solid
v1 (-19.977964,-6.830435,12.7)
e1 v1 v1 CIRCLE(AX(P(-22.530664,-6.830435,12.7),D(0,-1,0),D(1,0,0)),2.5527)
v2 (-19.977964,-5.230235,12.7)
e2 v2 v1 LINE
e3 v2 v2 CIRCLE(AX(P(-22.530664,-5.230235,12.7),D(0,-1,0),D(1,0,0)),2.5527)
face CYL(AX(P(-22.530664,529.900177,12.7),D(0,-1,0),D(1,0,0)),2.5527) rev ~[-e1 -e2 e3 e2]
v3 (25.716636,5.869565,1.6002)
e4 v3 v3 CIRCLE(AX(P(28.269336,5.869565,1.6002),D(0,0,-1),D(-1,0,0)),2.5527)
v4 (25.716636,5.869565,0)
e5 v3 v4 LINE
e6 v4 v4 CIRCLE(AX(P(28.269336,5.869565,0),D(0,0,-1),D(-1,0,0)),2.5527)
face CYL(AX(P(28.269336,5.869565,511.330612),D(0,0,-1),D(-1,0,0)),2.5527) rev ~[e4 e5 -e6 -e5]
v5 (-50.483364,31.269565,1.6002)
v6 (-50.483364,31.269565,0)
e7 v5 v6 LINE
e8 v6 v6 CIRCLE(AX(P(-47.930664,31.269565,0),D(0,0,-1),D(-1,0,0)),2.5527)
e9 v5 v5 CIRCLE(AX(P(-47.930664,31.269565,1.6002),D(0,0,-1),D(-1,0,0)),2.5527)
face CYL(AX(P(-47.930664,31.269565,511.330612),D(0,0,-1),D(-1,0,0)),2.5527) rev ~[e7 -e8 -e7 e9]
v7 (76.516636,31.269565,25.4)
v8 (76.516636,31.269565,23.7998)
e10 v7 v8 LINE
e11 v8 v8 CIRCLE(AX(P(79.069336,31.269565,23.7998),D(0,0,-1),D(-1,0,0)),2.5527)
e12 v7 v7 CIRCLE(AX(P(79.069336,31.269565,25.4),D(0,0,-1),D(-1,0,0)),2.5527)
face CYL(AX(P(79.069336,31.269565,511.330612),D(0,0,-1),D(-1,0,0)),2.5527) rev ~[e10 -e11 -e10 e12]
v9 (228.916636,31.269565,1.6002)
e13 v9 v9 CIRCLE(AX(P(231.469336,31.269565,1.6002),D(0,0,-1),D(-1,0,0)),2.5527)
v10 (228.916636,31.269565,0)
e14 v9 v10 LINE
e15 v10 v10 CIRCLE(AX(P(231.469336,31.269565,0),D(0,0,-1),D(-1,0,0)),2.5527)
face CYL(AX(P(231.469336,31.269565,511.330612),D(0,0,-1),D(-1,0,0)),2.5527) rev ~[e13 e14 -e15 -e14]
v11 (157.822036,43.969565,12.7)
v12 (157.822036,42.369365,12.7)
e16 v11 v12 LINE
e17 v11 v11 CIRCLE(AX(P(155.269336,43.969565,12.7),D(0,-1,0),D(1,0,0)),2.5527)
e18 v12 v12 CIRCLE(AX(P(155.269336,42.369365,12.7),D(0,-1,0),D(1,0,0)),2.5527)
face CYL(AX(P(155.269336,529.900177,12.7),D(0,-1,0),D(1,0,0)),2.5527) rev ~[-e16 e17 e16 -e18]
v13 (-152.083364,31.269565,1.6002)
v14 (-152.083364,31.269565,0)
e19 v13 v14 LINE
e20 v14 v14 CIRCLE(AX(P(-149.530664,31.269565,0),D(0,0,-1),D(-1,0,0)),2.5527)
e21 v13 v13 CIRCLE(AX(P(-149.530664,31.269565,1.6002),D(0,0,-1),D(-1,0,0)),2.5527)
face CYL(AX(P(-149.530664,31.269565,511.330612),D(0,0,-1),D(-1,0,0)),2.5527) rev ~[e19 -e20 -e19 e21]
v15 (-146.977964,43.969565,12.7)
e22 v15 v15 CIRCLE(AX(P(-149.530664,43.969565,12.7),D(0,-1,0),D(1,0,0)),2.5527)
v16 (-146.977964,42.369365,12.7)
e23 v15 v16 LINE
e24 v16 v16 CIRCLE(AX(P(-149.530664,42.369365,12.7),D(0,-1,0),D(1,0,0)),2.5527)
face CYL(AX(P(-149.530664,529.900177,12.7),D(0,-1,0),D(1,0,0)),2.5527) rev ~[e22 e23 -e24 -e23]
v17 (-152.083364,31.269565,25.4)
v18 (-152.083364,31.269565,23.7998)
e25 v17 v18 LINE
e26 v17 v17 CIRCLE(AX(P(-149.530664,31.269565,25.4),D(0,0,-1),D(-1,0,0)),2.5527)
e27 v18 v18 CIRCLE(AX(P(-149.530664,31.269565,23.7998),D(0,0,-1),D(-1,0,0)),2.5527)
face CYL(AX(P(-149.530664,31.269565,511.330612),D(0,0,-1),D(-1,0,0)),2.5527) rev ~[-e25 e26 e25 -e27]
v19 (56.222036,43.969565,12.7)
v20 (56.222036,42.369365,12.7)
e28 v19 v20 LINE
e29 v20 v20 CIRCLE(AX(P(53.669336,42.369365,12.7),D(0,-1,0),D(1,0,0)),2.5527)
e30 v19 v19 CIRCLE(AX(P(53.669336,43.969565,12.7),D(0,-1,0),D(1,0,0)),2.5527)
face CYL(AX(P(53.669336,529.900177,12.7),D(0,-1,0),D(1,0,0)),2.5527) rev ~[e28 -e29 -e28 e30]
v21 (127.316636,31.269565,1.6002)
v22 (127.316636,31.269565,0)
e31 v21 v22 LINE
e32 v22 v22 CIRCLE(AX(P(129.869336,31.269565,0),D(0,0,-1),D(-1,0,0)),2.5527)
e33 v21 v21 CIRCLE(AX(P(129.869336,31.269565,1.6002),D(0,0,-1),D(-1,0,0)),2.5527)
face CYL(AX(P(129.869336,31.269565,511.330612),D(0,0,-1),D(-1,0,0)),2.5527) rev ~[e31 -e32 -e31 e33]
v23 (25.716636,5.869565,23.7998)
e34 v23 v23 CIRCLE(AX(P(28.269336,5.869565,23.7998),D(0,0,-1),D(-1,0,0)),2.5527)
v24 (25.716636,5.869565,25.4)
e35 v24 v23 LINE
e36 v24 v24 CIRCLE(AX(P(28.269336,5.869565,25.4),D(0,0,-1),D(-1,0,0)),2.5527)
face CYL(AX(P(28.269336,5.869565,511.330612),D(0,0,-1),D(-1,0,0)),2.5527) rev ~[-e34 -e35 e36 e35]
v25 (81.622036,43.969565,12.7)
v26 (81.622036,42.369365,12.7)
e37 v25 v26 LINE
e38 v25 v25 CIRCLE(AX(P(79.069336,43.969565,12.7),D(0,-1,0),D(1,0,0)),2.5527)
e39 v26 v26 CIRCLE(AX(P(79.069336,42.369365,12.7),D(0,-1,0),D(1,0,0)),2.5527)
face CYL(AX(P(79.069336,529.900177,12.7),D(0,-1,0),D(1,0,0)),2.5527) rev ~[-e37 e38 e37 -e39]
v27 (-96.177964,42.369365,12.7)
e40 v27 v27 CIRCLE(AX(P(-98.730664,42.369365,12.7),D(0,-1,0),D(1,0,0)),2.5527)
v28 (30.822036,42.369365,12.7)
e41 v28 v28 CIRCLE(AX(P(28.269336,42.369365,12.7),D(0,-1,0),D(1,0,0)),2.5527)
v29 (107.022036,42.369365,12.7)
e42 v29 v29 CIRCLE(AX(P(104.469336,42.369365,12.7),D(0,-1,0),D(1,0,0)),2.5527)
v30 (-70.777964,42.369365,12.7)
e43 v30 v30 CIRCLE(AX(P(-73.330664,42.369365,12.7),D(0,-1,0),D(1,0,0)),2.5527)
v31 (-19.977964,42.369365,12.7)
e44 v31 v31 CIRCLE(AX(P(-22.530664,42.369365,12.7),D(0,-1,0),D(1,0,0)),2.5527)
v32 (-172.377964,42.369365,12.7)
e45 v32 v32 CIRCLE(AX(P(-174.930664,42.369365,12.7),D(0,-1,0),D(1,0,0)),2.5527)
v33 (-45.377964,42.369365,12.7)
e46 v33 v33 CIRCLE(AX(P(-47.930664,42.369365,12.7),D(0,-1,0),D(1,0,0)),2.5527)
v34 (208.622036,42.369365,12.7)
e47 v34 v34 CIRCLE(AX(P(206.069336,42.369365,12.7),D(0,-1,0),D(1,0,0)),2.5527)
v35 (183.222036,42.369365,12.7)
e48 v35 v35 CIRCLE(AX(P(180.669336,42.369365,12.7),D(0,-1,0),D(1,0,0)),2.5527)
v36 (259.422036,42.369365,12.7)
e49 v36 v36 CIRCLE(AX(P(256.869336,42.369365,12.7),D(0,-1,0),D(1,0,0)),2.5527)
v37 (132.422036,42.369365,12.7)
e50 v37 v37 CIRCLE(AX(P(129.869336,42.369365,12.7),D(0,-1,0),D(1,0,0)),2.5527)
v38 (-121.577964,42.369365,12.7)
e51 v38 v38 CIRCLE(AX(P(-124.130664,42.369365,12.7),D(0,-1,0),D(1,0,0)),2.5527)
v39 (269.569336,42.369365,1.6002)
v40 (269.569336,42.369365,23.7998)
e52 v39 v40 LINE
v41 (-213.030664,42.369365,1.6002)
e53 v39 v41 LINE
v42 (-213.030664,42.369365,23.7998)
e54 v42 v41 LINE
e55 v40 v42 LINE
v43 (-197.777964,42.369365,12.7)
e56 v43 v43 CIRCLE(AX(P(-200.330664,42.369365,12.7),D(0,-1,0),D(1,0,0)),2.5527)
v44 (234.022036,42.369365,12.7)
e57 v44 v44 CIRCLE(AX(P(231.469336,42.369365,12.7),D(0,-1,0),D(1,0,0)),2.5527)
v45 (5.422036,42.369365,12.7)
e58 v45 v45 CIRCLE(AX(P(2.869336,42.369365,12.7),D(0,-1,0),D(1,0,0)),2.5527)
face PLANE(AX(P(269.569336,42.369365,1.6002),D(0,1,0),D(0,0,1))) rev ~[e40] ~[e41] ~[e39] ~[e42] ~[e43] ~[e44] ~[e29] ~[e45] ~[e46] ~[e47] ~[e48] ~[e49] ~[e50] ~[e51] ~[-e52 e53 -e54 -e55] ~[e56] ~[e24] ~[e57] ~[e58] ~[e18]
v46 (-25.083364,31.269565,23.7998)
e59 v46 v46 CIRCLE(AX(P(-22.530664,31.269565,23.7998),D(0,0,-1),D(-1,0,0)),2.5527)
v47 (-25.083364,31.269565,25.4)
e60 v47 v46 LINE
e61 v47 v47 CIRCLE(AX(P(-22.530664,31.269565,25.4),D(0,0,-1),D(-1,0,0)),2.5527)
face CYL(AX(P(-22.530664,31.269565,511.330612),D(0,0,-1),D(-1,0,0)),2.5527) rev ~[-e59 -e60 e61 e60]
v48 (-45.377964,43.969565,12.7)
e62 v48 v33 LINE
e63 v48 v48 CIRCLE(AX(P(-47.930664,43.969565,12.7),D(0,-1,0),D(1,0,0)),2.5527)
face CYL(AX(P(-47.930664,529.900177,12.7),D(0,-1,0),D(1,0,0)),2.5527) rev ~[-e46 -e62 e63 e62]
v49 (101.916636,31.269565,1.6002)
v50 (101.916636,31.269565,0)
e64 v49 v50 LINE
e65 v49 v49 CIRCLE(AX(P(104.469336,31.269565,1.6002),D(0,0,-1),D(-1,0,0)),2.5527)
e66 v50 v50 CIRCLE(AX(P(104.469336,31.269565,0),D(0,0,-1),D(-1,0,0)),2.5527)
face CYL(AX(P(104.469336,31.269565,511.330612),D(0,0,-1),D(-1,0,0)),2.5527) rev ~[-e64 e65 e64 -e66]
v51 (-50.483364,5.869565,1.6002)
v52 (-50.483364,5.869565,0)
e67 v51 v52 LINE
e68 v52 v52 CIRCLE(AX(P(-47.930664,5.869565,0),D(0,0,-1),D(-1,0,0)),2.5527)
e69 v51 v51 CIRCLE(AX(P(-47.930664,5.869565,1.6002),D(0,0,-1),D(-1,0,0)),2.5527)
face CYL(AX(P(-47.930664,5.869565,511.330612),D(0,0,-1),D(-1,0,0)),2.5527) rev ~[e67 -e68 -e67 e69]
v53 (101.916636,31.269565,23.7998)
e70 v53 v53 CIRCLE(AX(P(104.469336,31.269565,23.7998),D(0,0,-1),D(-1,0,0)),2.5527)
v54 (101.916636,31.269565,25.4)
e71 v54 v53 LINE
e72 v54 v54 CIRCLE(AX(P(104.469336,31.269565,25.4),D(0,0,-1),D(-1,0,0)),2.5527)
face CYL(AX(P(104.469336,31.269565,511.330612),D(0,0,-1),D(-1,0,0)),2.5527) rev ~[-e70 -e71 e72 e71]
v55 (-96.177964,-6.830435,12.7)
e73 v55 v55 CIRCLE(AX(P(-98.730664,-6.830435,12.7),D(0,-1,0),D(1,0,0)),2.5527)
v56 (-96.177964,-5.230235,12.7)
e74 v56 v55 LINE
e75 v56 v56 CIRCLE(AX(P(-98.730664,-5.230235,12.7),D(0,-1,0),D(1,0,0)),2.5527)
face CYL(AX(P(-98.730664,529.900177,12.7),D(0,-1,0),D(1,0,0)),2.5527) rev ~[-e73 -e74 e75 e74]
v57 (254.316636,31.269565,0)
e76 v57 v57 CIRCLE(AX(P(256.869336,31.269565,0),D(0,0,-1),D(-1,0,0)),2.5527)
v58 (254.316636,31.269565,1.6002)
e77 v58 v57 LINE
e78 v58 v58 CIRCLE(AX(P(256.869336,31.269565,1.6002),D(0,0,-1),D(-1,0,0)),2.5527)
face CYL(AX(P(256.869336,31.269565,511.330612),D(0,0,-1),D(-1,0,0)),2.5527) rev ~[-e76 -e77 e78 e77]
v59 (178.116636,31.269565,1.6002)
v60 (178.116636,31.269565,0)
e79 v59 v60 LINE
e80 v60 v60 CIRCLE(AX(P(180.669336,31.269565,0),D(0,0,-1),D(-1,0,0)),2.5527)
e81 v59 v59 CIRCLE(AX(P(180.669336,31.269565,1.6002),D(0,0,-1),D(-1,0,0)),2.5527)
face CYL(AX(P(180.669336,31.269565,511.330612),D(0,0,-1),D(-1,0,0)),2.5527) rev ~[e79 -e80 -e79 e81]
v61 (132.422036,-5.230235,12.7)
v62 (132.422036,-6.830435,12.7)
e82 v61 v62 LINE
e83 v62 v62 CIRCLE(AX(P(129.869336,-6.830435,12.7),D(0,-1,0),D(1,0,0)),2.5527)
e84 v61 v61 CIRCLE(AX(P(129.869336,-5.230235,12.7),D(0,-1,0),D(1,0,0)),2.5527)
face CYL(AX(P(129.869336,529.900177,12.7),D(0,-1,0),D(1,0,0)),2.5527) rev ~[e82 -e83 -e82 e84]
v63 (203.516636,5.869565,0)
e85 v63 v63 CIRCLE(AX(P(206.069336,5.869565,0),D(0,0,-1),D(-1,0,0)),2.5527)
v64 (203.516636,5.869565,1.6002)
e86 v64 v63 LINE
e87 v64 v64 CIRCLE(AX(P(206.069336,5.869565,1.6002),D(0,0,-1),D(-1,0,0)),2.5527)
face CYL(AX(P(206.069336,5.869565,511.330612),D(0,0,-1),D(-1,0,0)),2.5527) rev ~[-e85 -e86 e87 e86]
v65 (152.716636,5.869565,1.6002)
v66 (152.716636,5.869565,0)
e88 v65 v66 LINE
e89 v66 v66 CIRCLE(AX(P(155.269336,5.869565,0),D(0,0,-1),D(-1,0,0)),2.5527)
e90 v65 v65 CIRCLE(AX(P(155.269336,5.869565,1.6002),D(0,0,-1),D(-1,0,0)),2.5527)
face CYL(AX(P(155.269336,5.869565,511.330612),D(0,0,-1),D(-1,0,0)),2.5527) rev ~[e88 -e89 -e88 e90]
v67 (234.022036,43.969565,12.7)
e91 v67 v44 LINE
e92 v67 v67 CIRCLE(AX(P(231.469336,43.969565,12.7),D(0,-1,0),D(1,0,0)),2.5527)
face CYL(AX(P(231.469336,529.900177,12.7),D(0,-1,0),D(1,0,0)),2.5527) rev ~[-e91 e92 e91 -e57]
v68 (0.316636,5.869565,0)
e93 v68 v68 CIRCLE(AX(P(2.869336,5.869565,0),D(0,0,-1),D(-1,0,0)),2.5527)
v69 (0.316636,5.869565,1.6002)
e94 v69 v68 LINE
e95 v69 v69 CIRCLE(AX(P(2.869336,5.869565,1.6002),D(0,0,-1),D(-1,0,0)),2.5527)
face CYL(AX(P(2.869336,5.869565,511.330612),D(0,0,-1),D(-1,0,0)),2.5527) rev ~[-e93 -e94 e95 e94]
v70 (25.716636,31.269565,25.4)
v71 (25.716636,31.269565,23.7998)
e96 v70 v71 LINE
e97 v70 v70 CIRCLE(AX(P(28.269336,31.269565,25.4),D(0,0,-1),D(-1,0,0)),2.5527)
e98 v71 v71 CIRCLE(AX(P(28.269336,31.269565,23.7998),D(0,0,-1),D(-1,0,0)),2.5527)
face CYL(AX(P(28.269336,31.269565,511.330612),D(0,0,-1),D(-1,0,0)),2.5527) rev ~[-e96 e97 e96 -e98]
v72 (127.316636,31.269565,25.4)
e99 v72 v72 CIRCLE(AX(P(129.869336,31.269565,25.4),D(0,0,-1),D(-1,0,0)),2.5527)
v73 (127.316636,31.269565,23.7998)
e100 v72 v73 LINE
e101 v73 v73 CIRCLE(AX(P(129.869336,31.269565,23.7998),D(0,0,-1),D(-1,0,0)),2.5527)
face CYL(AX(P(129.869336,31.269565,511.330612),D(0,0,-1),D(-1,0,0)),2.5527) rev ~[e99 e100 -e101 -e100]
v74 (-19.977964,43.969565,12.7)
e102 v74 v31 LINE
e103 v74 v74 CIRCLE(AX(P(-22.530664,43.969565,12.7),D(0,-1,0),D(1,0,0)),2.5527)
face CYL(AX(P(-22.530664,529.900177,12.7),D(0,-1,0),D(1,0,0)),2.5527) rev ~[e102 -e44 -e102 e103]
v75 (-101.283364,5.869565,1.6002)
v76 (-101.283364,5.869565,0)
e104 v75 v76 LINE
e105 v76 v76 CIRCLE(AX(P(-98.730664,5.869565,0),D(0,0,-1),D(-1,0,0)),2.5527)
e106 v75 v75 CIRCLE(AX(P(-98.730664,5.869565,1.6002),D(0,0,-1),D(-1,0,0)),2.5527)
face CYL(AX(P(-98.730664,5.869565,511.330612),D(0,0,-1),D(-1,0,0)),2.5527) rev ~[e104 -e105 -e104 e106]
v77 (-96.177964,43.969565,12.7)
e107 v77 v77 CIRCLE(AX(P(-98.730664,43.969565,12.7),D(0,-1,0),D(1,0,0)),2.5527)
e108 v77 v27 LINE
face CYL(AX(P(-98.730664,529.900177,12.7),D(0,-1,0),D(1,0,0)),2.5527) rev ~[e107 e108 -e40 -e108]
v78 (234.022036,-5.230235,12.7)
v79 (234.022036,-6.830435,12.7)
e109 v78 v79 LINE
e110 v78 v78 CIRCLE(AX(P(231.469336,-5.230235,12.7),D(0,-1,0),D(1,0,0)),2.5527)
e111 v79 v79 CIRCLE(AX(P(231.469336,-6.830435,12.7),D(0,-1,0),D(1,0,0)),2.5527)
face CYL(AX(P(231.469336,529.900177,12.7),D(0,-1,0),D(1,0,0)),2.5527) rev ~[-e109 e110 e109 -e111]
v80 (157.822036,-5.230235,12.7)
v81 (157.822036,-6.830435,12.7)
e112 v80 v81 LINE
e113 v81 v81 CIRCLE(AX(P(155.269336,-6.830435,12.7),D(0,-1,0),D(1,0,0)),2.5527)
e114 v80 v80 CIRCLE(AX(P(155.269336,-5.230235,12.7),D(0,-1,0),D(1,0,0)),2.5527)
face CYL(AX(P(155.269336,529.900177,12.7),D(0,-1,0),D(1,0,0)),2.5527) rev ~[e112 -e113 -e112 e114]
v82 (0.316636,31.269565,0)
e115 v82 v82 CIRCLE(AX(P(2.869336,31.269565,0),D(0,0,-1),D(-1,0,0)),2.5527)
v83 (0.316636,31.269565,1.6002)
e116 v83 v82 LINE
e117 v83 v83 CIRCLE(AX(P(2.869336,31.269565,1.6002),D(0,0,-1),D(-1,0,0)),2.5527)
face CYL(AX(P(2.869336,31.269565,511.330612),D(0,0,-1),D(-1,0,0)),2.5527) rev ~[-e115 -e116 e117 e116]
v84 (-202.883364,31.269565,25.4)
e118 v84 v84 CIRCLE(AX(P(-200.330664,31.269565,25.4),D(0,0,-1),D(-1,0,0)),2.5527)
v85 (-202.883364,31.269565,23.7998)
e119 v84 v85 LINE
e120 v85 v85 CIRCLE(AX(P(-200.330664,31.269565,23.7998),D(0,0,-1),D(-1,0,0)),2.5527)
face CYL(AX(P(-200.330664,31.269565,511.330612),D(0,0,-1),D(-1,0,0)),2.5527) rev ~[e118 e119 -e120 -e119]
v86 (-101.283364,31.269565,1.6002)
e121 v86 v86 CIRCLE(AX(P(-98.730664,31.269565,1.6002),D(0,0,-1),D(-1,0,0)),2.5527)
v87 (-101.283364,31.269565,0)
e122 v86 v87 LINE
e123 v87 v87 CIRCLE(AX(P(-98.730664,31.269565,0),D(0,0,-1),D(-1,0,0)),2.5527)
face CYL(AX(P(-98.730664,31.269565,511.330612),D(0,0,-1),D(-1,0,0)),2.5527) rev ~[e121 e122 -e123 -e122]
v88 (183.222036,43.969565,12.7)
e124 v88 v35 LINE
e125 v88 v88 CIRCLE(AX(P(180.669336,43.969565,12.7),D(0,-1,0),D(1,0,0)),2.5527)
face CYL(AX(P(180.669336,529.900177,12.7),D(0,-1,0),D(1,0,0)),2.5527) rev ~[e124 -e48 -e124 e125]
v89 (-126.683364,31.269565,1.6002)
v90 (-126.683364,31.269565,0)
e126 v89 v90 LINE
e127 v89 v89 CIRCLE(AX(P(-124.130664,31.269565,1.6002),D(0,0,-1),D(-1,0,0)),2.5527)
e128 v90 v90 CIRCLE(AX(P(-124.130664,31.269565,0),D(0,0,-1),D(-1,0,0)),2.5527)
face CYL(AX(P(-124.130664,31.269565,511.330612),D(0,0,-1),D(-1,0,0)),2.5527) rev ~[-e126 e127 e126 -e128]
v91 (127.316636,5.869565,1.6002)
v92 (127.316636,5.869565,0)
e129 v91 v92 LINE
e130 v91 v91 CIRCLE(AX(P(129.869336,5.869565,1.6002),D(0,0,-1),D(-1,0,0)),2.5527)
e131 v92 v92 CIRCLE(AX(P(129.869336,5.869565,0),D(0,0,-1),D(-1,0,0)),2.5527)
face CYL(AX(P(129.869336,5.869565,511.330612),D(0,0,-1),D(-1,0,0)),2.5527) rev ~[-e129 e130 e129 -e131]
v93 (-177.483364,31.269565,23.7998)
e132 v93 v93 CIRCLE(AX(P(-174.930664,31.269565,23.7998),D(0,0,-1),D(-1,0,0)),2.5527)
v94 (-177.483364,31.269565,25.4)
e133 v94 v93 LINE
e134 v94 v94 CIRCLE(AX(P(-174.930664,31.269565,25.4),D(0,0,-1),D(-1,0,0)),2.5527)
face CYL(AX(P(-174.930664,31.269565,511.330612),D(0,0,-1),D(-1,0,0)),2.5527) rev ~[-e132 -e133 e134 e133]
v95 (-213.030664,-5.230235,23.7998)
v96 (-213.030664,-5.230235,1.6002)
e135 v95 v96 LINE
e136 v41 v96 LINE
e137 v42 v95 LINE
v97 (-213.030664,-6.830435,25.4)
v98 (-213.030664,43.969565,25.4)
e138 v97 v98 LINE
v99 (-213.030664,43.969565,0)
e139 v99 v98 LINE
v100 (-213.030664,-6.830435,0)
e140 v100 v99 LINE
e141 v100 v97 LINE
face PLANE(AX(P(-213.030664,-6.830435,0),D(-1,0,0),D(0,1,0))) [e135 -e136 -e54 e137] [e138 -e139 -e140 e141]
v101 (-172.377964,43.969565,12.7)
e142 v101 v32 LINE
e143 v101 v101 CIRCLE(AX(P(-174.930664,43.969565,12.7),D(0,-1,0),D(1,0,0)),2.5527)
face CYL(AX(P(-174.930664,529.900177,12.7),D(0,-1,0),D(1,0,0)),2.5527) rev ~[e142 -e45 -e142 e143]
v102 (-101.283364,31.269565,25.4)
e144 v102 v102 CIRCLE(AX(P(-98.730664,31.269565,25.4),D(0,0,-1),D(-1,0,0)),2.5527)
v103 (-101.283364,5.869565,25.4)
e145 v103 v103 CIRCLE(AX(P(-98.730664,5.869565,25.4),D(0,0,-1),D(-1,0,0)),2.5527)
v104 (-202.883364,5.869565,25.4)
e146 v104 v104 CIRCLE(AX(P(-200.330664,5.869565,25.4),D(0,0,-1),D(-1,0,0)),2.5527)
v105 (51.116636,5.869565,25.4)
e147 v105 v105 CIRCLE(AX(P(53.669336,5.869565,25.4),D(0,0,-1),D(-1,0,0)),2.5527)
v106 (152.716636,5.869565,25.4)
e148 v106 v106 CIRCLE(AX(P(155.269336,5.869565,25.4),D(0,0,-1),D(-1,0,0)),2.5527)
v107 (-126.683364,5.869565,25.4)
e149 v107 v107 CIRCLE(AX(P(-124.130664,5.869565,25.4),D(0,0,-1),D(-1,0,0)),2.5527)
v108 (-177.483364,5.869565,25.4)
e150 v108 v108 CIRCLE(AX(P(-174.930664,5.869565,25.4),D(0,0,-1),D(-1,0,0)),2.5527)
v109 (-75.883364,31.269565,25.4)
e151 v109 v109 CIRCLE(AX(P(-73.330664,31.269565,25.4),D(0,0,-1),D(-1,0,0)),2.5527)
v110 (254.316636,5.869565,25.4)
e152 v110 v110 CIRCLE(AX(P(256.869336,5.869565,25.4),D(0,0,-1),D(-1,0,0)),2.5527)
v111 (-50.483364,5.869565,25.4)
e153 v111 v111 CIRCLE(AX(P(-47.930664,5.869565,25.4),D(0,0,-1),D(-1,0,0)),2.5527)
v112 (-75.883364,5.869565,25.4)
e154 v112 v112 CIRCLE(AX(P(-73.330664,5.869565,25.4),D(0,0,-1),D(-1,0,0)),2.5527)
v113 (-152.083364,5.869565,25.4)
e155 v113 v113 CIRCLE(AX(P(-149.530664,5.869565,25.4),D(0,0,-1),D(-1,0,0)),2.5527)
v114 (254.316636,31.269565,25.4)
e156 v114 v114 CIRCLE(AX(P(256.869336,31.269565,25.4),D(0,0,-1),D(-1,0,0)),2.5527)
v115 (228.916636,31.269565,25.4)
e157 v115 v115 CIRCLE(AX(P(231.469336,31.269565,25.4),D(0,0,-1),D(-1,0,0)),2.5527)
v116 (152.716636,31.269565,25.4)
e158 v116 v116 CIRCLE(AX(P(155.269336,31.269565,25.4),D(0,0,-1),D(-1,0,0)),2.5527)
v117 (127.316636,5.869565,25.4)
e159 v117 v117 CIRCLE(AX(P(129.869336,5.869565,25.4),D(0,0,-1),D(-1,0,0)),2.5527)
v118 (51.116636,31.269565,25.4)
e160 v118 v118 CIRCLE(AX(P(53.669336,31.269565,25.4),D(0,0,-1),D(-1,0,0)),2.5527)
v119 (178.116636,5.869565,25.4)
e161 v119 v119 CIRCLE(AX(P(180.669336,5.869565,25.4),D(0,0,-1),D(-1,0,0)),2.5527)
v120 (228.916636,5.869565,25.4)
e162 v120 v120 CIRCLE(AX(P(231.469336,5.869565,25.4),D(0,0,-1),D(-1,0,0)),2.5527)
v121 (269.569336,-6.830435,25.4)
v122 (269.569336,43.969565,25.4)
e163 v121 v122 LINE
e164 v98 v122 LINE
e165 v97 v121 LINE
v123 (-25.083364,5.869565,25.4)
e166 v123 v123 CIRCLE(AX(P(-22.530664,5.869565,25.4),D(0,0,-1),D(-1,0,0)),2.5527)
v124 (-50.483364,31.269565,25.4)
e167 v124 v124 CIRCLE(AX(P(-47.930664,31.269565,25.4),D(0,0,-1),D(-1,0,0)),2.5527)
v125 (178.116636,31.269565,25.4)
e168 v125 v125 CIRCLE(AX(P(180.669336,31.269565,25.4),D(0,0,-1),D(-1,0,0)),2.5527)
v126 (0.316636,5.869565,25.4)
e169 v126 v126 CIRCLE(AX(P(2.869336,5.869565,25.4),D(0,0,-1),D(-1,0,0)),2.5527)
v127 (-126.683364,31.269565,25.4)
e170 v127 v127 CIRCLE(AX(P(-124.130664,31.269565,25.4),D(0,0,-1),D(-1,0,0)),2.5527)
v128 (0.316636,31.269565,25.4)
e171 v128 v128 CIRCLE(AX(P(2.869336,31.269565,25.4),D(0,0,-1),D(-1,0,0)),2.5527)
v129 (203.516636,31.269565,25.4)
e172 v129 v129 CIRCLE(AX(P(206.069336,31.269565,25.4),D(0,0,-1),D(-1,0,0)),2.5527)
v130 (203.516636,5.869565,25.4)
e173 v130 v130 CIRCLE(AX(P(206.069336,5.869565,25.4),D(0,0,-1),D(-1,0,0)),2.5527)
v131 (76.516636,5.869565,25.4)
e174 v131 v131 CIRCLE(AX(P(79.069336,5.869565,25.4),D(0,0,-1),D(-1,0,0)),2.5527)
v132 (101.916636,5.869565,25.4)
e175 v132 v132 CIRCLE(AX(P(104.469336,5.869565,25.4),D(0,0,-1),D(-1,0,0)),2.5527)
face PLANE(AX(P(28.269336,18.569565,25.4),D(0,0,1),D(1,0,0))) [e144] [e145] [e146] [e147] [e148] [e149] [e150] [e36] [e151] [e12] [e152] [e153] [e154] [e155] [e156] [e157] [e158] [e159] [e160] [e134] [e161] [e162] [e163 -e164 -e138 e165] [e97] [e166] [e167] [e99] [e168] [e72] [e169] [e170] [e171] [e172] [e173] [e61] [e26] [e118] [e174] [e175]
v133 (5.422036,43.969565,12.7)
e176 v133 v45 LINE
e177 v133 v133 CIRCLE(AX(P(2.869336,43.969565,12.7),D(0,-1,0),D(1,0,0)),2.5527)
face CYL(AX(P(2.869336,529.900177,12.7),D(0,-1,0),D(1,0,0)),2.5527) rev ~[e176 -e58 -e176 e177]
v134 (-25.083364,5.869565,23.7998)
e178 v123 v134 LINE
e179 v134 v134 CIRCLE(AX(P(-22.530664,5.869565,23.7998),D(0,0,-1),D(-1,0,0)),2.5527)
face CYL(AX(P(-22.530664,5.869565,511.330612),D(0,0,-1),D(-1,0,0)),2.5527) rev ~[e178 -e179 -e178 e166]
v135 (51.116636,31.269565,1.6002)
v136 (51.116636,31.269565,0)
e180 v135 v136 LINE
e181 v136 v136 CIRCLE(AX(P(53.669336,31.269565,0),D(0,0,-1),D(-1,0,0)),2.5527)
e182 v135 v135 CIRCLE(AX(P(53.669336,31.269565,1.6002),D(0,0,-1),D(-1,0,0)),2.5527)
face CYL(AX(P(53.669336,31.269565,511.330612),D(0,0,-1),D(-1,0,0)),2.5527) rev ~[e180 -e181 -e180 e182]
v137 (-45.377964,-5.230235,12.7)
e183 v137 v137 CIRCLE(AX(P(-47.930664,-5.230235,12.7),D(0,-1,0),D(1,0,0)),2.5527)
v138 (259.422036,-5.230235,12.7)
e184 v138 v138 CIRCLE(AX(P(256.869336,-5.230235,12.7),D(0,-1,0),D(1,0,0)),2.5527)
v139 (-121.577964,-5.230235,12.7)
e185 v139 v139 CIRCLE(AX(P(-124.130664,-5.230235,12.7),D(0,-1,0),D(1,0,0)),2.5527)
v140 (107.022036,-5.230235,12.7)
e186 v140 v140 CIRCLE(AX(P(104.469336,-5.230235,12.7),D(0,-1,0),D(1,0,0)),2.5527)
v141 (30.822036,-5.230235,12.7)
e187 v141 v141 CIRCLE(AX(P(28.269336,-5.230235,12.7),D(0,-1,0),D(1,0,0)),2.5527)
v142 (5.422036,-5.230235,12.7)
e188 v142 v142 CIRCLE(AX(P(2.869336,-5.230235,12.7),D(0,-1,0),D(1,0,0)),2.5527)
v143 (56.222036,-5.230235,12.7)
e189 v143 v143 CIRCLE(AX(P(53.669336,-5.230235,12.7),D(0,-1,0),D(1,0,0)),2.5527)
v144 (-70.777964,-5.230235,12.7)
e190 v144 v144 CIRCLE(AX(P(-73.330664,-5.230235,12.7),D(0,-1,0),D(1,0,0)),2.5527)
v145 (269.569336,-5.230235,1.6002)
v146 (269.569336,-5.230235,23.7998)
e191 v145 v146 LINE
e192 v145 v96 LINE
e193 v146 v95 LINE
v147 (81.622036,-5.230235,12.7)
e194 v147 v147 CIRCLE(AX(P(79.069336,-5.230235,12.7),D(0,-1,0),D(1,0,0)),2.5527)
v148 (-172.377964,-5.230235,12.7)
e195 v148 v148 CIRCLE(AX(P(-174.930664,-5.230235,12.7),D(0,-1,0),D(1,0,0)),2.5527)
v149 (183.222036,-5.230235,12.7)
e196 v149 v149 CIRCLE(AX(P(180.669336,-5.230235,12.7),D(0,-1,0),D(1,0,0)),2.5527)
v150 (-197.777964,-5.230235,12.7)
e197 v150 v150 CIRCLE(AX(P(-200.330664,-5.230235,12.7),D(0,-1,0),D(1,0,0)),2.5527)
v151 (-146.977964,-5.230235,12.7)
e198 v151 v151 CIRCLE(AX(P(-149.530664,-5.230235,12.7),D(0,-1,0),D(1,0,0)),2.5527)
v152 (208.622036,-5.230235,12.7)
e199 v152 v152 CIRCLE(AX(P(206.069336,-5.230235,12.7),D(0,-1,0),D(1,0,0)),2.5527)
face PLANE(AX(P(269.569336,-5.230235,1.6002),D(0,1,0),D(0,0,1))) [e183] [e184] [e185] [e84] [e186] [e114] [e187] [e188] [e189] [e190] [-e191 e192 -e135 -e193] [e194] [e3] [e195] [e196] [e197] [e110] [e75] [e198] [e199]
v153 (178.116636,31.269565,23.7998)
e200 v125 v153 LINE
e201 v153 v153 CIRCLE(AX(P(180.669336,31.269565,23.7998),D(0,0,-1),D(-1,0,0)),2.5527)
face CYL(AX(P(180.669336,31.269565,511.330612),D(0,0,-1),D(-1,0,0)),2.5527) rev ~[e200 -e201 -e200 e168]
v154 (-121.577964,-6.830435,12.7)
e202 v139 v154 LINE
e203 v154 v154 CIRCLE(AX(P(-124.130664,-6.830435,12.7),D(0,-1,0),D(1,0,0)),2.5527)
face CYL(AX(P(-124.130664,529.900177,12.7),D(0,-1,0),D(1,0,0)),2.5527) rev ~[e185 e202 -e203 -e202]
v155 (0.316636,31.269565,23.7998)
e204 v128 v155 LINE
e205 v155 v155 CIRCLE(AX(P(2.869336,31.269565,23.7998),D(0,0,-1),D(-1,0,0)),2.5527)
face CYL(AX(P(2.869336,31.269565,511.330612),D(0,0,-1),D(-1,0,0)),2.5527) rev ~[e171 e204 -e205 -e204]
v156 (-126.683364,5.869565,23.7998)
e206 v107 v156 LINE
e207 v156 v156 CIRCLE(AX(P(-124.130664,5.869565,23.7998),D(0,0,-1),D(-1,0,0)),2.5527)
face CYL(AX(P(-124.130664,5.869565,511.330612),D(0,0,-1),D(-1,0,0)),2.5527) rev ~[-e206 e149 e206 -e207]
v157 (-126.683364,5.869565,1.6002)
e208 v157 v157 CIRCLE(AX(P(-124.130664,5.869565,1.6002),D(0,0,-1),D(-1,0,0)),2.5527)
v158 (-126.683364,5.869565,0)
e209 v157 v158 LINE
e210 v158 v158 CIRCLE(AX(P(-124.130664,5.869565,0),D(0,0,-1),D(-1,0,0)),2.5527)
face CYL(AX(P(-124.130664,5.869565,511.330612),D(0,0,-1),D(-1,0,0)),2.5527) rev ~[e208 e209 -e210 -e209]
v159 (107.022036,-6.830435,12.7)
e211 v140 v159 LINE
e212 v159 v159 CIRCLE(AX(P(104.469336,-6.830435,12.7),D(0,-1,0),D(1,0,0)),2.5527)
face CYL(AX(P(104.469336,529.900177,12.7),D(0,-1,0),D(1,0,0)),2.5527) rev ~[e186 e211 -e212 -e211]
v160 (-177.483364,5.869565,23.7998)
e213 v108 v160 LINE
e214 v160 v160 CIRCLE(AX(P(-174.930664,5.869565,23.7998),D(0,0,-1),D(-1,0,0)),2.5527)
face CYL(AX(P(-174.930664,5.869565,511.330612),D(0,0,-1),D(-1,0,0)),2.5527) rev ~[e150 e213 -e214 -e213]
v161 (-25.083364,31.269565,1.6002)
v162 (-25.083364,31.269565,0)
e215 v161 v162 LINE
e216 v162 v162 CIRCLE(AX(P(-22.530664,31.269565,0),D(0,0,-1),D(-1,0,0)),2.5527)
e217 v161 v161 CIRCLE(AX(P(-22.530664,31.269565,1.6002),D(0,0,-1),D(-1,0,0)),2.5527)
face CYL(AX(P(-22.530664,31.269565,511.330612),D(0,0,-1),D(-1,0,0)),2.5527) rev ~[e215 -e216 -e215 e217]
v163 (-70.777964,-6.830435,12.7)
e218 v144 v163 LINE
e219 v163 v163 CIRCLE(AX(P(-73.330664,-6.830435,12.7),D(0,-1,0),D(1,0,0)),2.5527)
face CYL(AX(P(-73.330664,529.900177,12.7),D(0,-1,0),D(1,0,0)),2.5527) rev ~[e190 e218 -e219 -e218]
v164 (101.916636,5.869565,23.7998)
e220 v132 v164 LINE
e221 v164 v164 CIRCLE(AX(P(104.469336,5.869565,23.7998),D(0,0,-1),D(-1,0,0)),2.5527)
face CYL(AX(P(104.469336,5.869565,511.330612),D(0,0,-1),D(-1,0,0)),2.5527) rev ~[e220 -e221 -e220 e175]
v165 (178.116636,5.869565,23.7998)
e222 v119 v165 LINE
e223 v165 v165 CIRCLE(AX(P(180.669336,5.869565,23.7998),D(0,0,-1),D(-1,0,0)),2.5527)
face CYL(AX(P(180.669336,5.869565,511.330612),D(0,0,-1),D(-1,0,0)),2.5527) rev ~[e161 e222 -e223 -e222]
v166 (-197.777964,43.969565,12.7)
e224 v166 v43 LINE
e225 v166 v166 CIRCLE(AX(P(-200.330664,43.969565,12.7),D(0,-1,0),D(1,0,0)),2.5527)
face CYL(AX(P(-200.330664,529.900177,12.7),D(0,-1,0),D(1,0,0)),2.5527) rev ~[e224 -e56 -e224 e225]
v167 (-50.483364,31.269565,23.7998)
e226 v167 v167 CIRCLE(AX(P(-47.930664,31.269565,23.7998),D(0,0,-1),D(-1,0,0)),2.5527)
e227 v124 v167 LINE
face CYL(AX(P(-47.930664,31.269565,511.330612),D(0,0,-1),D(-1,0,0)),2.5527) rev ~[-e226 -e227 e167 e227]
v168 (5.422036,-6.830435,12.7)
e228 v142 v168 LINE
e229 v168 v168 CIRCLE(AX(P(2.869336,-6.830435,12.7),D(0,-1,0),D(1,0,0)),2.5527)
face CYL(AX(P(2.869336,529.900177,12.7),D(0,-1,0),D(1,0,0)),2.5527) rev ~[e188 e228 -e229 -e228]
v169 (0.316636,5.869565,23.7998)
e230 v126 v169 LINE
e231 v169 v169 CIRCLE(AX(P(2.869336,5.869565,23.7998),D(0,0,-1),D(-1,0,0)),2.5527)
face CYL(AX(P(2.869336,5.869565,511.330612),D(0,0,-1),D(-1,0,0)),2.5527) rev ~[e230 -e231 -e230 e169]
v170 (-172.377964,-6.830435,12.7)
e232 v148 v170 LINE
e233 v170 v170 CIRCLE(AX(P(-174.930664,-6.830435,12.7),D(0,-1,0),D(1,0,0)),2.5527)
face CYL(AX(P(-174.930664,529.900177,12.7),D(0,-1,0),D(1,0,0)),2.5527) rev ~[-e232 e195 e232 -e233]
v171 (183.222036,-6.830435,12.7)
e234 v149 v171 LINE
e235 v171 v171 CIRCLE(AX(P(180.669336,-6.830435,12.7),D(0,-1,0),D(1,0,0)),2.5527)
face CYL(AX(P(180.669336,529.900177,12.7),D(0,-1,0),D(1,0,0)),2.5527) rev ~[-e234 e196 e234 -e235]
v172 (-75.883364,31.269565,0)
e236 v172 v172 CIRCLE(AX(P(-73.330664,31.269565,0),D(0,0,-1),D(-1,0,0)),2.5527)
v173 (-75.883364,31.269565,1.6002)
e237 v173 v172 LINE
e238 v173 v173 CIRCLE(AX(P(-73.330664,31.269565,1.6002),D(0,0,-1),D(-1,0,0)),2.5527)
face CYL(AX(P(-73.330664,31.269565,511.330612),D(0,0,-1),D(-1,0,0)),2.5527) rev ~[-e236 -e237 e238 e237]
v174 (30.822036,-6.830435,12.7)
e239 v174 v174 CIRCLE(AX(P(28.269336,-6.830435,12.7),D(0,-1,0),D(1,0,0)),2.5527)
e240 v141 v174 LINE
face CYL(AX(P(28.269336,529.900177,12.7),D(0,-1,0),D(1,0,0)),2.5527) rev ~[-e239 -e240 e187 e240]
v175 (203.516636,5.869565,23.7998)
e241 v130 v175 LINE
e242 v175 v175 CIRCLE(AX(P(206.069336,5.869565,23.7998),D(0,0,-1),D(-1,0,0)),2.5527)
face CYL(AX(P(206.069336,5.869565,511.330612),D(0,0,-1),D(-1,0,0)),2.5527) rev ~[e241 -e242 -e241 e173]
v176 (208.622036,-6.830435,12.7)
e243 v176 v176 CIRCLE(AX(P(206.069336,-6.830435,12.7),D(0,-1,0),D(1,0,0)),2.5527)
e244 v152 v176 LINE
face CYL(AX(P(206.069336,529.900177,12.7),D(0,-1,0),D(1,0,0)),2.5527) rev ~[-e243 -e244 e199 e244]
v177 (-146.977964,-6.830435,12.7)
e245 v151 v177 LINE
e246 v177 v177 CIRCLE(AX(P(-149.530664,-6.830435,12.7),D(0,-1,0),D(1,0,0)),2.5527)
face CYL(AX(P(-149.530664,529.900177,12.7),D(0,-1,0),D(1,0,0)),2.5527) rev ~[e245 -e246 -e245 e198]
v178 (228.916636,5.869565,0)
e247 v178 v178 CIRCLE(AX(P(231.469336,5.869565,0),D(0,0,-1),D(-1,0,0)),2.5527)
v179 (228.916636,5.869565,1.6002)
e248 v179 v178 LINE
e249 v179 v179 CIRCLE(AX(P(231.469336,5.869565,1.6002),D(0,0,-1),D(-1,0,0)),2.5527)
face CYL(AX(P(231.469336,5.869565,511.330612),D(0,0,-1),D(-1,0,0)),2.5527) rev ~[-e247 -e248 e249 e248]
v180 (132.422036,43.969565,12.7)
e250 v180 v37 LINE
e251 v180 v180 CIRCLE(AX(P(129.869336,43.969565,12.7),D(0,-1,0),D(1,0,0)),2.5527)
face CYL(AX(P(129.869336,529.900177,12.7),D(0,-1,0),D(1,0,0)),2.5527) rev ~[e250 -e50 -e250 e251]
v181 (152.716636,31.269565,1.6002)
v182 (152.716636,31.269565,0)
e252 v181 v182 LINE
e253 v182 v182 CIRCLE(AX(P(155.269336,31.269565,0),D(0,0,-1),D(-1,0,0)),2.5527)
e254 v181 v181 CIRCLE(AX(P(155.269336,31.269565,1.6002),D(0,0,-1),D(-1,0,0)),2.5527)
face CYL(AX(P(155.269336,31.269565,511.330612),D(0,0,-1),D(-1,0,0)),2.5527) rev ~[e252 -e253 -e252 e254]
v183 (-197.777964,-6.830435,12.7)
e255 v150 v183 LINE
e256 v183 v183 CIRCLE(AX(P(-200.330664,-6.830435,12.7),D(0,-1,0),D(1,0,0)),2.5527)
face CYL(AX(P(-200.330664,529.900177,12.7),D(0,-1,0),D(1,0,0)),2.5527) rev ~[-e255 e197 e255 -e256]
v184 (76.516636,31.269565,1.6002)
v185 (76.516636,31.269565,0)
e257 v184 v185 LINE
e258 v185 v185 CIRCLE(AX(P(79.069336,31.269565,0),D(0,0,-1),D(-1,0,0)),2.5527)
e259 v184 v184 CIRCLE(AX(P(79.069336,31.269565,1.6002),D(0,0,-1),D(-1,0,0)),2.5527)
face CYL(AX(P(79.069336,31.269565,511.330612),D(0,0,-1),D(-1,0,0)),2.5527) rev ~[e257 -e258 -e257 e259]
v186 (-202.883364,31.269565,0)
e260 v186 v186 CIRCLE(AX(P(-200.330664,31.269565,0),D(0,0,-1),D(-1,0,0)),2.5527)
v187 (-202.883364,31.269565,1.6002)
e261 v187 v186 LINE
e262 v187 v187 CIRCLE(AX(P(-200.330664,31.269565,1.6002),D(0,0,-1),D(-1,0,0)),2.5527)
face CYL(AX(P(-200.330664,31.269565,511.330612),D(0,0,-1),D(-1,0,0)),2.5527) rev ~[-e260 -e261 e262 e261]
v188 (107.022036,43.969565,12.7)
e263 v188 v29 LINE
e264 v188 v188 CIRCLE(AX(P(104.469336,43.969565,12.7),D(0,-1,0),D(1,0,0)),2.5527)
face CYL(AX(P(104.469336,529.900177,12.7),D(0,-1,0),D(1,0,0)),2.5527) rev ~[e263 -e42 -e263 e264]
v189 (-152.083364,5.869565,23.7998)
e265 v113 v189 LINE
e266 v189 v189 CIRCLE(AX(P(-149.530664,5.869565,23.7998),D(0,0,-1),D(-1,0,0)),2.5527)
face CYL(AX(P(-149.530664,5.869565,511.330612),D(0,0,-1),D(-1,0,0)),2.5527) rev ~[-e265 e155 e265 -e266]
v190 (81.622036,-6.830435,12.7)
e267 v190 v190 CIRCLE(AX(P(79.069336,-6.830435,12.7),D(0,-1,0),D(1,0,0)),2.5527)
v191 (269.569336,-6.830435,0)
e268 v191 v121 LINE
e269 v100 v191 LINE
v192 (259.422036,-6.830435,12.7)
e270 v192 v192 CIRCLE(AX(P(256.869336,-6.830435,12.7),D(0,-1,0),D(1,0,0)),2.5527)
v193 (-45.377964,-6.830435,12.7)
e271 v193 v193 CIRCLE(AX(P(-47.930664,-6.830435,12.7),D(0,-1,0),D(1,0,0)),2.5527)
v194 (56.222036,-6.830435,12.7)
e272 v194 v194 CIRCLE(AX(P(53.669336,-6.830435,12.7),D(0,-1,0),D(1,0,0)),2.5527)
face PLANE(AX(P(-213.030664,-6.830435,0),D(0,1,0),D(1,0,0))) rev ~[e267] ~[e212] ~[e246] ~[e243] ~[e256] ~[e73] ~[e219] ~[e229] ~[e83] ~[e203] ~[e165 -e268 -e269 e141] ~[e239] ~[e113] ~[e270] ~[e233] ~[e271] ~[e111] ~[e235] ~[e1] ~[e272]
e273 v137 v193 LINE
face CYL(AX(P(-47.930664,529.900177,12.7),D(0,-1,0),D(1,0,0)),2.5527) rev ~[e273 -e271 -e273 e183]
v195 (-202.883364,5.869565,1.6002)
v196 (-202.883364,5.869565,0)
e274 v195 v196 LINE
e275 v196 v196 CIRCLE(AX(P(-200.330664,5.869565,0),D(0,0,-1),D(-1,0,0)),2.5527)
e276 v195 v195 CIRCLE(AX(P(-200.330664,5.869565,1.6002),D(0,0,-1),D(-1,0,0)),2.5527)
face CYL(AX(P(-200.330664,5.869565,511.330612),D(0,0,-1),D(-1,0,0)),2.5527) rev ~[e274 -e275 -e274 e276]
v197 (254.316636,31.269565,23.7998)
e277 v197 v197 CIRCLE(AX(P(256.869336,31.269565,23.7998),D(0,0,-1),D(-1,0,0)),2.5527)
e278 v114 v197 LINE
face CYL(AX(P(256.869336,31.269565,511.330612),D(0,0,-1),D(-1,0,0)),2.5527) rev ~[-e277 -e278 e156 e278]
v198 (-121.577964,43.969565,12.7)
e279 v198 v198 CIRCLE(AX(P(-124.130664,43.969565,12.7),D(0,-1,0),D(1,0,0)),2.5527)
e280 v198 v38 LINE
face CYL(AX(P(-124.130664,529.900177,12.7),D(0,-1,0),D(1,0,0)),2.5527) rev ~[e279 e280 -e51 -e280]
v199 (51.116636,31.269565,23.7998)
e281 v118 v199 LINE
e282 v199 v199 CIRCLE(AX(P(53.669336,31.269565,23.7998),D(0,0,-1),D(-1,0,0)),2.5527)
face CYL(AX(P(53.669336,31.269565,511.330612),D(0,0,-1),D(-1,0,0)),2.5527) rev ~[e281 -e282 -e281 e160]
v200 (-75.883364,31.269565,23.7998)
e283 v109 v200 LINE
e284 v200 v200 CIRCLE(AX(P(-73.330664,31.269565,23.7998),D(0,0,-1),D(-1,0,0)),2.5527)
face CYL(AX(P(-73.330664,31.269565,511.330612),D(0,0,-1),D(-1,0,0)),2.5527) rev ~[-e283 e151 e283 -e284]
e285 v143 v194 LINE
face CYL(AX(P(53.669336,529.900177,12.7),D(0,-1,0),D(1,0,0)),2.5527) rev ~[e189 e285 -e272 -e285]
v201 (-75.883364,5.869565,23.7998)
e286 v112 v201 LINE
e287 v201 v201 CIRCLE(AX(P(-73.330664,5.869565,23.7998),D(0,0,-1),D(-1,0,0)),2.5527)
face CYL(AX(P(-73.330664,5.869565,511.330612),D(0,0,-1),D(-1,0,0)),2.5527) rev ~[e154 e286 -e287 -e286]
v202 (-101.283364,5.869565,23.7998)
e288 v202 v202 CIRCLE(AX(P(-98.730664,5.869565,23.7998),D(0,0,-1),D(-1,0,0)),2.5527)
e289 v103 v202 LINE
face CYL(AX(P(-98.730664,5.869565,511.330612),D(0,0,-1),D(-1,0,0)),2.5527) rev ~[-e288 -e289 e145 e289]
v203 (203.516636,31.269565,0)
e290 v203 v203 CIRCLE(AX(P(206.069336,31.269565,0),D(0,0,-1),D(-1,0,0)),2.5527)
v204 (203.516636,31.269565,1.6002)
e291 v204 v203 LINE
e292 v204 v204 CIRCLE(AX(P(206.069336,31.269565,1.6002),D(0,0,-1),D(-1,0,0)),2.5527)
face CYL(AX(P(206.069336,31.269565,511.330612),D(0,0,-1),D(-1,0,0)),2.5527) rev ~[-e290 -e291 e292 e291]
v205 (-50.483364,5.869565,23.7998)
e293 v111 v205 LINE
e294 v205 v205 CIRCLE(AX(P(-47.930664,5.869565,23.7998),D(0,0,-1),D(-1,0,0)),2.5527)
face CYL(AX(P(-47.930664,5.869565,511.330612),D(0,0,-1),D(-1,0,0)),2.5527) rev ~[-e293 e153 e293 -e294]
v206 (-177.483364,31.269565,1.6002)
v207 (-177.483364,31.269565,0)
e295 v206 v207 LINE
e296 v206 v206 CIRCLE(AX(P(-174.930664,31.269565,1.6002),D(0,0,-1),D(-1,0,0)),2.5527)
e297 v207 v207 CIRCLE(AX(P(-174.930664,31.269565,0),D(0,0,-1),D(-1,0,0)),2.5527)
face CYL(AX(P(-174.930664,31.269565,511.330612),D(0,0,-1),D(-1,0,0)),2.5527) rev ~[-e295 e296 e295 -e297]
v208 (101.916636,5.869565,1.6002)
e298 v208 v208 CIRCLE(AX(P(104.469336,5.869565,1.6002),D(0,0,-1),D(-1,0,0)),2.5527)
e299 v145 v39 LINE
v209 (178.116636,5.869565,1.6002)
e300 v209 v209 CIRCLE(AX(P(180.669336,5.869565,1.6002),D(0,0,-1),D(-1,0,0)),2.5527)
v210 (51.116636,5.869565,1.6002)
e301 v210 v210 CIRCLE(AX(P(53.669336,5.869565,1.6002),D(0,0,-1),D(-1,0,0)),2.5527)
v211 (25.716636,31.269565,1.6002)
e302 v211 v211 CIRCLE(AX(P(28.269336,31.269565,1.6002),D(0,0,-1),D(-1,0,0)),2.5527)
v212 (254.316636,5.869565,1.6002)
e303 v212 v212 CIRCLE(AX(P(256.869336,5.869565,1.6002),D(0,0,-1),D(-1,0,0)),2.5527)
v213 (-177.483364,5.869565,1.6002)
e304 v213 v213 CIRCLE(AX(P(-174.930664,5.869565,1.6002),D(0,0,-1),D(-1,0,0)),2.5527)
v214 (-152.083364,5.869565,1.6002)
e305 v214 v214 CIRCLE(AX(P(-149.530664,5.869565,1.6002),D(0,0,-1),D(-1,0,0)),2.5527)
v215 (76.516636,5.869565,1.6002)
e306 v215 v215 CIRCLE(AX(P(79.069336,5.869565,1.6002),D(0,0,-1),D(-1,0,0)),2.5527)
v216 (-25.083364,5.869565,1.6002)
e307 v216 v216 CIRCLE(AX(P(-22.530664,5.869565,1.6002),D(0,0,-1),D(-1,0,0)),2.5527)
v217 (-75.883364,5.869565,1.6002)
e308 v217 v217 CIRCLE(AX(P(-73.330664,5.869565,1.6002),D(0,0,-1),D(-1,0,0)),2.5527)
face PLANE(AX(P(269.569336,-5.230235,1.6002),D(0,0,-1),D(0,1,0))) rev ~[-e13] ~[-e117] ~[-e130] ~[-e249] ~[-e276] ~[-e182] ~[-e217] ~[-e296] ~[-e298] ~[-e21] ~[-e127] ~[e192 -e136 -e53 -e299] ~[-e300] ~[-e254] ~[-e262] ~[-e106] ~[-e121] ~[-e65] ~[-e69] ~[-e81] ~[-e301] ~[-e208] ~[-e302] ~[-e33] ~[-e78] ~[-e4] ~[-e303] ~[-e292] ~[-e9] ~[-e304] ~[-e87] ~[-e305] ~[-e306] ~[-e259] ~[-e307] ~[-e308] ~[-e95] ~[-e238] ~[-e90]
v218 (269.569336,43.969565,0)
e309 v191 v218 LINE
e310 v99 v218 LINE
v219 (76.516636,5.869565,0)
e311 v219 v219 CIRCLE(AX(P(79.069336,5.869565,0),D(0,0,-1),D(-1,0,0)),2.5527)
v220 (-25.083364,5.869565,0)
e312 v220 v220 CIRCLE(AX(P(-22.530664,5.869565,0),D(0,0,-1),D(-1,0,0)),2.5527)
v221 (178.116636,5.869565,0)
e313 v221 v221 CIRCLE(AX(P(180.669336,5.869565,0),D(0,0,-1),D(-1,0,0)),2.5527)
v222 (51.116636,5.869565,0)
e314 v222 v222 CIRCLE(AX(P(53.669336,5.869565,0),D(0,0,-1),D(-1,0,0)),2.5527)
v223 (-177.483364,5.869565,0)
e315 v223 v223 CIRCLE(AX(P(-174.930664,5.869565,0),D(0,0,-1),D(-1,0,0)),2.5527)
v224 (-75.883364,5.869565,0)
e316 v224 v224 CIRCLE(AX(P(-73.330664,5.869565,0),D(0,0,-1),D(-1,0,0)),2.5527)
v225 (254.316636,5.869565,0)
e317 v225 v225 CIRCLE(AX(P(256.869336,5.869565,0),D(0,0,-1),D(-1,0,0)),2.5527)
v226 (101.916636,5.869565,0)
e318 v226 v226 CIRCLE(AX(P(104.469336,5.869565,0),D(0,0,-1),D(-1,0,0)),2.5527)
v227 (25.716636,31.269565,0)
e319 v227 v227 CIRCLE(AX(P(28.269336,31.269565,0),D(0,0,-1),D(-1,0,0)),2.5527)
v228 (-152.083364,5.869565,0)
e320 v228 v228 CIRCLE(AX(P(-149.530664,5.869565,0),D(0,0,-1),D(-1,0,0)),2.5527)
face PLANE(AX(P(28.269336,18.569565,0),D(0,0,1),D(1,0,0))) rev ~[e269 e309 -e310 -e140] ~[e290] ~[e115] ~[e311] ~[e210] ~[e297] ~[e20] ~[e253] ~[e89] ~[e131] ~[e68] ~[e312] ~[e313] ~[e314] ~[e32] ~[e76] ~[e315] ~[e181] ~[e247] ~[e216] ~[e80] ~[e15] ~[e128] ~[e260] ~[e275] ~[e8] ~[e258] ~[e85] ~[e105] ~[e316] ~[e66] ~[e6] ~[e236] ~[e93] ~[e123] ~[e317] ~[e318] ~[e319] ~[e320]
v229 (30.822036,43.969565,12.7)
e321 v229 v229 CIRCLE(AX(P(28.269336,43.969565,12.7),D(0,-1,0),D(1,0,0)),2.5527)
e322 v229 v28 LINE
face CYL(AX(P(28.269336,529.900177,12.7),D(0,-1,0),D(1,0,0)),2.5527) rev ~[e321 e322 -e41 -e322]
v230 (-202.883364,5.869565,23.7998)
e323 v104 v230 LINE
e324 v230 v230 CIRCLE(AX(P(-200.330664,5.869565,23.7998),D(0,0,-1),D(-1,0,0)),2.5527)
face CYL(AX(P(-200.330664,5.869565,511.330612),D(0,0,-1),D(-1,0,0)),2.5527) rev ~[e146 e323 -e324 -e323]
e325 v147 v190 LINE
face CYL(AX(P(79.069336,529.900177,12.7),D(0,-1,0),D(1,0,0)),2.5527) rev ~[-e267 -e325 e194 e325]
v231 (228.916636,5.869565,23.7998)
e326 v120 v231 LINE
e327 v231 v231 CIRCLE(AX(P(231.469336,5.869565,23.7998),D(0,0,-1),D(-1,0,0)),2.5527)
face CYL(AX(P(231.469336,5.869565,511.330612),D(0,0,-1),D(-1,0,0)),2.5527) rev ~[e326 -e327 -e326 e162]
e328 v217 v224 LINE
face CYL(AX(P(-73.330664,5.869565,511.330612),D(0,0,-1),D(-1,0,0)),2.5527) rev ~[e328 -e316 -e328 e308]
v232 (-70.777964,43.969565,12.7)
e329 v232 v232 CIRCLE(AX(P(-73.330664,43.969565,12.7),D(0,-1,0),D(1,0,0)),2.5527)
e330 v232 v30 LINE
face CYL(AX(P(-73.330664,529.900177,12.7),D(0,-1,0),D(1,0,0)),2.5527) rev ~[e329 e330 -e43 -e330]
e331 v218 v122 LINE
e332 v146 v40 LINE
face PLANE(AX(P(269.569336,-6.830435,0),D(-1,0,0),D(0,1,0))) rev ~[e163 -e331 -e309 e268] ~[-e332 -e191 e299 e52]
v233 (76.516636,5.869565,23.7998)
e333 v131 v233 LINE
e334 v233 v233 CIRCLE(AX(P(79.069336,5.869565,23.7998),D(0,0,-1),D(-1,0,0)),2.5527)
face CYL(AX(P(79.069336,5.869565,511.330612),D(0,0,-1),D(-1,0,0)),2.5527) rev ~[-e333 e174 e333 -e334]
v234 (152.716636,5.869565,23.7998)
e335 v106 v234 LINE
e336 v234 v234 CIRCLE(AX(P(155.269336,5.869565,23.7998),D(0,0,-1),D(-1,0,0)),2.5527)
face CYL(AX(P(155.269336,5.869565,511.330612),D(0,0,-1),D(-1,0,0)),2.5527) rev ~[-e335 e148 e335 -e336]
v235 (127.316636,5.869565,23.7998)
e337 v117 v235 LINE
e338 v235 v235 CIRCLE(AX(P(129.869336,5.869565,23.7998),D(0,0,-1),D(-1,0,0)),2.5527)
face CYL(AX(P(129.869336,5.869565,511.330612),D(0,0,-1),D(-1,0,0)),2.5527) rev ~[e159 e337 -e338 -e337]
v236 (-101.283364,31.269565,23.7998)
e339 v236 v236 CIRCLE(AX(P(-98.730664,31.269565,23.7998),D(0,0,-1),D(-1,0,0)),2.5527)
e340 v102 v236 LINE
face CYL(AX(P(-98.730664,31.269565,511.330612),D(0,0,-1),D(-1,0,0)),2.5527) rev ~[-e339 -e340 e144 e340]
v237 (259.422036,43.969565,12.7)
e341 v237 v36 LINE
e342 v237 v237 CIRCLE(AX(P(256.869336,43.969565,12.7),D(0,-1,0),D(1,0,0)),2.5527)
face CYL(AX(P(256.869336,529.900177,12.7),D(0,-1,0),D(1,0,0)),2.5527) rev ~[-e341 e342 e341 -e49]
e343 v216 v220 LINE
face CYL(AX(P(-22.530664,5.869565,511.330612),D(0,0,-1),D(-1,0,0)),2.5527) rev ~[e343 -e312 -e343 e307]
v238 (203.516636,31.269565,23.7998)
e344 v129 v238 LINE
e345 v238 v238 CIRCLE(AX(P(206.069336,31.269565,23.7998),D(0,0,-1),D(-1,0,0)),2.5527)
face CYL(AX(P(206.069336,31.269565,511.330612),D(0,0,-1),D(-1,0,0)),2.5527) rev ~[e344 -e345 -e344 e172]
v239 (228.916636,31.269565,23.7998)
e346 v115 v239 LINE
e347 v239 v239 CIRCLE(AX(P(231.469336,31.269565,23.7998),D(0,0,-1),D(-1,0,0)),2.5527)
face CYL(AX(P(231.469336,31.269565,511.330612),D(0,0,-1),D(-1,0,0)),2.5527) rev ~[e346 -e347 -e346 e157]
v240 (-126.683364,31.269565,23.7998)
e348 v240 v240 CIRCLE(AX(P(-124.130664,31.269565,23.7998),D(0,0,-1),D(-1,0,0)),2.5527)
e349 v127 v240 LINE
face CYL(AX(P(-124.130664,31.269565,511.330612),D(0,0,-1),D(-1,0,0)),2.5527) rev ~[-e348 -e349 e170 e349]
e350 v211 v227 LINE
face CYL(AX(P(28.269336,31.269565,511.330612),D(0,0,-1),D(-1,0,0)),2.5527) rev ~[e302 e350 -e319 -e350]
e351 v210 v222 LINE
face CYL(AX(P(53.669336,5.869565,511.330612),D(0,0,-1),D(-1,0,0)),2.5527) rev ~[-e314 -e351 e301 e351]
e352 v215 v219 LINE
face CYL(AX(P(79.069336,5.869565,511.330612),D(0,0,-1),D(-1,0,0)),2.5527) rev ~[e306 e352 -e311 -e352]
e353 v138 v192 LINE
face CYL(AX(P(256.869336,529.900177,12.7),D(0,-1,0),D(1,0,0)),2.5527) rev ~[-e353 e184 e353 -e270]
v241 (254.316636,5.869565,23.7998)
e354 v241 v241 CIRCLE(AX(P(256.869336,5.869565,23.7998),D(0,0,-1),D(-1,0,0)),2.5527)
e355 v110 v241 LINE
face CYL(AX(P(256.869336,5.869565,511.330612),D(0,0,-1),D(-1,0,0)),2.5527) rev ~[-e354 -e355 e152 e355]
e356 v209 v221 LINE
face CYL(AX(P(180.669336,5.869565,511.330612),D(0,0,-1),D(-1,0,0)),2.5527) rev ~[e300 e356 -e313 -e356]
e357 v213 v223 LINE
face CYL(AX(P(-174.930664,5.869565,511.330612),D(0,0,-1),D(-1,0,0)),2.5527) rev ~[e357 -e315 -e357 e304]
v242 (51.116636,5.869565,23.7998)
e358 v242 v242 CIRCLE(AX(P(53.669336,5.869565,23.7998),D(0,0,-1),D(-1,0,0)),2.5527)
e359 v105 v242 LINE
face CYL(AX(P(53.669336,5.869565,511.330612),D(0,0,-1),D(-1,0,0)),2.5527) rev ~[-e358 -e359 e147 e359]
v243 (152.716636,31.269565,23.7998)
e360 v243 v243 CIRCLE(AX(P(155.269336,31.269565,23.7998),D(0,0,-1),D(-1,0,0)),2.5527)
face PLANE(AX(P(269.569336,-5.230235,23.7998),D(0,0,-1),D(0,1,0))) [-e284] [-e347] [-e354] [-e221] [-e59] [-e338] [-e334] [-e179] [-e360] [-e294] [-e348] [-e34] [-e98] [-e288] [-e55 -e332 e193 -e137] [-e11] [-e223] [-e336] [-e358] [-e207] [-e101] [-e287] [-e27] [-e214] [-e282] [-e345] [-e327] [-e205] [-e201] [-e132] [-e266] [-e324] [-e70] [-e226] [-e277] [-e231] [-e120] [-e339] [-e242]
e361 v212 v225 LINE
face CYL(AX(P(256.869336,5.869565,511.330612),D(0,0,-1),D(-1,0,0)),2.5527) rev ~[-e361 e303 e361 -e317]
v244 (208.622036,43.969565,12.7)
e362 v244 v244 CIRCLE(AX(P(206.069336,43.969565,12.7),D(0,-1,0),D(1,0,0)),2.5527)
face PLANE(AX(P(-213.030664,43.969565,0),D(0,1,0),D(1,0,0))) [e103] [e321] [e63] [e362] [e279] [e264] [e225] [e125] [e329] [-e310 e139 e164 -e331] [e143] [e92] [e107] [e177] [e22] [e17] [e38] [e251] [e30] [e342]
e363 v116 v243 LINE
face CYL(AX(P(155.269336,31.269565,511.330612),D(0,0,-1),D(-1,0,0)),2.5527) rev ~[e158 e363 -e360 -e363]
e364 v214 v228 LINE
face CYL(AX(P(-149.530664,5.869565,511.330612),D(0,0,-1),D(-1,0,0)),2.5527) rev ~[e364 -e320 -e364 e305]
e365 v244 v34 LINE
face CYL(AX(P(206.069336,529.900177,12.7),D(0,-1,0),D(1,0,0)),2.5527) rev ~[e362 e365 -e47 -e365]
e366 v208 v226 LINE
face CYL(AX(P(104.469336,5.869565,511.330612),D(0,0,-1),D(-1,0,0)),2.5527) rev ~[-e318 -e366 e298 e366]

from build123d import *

# Parameters (mm, degrees)
F0_W     = 482.6
F0_H     = 50.8
F1_DEPTH = 25.4
F2_W     = 47.5996
F2_H     = 22.1996
F3_DEPTH = 482.601
F5_D     = 5.1054
F7_D     = 5.1054


with BuildPart() as f1:
    # F0 (on Top) → F1 (new body)
    with BuildSketch(Plane.XY):
        with Locations((28.269336, 18.569565)):
            Rectangle(F0_W, F0_H)
    extrude(amount=F1_DEPTH)

    # F2 (on face) → F3 (cut, through all)
    with BuildSketch(Plane.YZ.offset(269.569336)):
        with Locations((18.569565, 12.7)):
            Rectangle(F2_W, F2_H)
    extrude(amount=-F3_DEPTH, mode=Mode.SUBTRACT)

    # F5 (through all)
    with Locations(Plane.XY.offset(25.4)):
        with Locations((2.869336, 5.869565), (-47.930664, 31.269565), (-98.730664, 31.269565), (-22.530664, 5.869565), (-124.130664, 5.869565), (-124.130664, 31.269565), (-149.530664, 5.869565), (2.869336, 31.269565), (-149.530664, 31.269565), (-174.930664, 5.869565), (-174.930664, 31.269565), (-200.330664, 5.869565), (-200.330664, 31.269565), (-73.330664, 31.269565), (-73.330664, 5.869565), (-98.730664, 5.869565), (-22.530664, 31.269565), (-47.930664, 5.869565), (256.869336, 31.269565), (206.069336, 5.869565), (129.869336, 31.269565), (79.069336, 5.869565), (155.269336, 31.269565), (231.469336, 5.869565), (180.669336, 5.869565), (28.269336, 5.869565), (256.869336, 5.869565), (104.469336, 5.869565), (53.669336, 5.869565), (206.069336, 31.269565), (180.669336, 31.269565), (28.269336, 31.269565), (129.869336, 5.869565), (231.469336, 31.269565), (53.669336, 31.269565), (104.469336, 31.269565), (79.069336, 31.269565), (155.269336, 5.869565)):
            Hole(F5_D / 2)

    # F7 (through all)
    with Locations(Plane(origin=(0, 43.969565, 0), x_dir=(-1, 0, 0), z_dir=(0, 1, 0))):
        with Locations((47.930664, 12.7), (22.530664, 12.7), (73.330664, 12.7), (-79.069336, 12.7), (-104.469336, 12.7), (-28.269336, 12.7), (-53.669336, 12.7), (-2.869336, 12.7), (149.530664, 12.7), (98.730664, 12.7), (-231.469336, 12.7), (-256.869336, 12.7), (-180.669336, 12.7), (-206.069336, 12.7), (-155.269336, 12.7), (-129.869336, 12.7), (124.130664, 12.7), (200.330664, 12.7), (174.930664, 12.7)):
            Hole(F7_D / 2)


solid = f1.part
